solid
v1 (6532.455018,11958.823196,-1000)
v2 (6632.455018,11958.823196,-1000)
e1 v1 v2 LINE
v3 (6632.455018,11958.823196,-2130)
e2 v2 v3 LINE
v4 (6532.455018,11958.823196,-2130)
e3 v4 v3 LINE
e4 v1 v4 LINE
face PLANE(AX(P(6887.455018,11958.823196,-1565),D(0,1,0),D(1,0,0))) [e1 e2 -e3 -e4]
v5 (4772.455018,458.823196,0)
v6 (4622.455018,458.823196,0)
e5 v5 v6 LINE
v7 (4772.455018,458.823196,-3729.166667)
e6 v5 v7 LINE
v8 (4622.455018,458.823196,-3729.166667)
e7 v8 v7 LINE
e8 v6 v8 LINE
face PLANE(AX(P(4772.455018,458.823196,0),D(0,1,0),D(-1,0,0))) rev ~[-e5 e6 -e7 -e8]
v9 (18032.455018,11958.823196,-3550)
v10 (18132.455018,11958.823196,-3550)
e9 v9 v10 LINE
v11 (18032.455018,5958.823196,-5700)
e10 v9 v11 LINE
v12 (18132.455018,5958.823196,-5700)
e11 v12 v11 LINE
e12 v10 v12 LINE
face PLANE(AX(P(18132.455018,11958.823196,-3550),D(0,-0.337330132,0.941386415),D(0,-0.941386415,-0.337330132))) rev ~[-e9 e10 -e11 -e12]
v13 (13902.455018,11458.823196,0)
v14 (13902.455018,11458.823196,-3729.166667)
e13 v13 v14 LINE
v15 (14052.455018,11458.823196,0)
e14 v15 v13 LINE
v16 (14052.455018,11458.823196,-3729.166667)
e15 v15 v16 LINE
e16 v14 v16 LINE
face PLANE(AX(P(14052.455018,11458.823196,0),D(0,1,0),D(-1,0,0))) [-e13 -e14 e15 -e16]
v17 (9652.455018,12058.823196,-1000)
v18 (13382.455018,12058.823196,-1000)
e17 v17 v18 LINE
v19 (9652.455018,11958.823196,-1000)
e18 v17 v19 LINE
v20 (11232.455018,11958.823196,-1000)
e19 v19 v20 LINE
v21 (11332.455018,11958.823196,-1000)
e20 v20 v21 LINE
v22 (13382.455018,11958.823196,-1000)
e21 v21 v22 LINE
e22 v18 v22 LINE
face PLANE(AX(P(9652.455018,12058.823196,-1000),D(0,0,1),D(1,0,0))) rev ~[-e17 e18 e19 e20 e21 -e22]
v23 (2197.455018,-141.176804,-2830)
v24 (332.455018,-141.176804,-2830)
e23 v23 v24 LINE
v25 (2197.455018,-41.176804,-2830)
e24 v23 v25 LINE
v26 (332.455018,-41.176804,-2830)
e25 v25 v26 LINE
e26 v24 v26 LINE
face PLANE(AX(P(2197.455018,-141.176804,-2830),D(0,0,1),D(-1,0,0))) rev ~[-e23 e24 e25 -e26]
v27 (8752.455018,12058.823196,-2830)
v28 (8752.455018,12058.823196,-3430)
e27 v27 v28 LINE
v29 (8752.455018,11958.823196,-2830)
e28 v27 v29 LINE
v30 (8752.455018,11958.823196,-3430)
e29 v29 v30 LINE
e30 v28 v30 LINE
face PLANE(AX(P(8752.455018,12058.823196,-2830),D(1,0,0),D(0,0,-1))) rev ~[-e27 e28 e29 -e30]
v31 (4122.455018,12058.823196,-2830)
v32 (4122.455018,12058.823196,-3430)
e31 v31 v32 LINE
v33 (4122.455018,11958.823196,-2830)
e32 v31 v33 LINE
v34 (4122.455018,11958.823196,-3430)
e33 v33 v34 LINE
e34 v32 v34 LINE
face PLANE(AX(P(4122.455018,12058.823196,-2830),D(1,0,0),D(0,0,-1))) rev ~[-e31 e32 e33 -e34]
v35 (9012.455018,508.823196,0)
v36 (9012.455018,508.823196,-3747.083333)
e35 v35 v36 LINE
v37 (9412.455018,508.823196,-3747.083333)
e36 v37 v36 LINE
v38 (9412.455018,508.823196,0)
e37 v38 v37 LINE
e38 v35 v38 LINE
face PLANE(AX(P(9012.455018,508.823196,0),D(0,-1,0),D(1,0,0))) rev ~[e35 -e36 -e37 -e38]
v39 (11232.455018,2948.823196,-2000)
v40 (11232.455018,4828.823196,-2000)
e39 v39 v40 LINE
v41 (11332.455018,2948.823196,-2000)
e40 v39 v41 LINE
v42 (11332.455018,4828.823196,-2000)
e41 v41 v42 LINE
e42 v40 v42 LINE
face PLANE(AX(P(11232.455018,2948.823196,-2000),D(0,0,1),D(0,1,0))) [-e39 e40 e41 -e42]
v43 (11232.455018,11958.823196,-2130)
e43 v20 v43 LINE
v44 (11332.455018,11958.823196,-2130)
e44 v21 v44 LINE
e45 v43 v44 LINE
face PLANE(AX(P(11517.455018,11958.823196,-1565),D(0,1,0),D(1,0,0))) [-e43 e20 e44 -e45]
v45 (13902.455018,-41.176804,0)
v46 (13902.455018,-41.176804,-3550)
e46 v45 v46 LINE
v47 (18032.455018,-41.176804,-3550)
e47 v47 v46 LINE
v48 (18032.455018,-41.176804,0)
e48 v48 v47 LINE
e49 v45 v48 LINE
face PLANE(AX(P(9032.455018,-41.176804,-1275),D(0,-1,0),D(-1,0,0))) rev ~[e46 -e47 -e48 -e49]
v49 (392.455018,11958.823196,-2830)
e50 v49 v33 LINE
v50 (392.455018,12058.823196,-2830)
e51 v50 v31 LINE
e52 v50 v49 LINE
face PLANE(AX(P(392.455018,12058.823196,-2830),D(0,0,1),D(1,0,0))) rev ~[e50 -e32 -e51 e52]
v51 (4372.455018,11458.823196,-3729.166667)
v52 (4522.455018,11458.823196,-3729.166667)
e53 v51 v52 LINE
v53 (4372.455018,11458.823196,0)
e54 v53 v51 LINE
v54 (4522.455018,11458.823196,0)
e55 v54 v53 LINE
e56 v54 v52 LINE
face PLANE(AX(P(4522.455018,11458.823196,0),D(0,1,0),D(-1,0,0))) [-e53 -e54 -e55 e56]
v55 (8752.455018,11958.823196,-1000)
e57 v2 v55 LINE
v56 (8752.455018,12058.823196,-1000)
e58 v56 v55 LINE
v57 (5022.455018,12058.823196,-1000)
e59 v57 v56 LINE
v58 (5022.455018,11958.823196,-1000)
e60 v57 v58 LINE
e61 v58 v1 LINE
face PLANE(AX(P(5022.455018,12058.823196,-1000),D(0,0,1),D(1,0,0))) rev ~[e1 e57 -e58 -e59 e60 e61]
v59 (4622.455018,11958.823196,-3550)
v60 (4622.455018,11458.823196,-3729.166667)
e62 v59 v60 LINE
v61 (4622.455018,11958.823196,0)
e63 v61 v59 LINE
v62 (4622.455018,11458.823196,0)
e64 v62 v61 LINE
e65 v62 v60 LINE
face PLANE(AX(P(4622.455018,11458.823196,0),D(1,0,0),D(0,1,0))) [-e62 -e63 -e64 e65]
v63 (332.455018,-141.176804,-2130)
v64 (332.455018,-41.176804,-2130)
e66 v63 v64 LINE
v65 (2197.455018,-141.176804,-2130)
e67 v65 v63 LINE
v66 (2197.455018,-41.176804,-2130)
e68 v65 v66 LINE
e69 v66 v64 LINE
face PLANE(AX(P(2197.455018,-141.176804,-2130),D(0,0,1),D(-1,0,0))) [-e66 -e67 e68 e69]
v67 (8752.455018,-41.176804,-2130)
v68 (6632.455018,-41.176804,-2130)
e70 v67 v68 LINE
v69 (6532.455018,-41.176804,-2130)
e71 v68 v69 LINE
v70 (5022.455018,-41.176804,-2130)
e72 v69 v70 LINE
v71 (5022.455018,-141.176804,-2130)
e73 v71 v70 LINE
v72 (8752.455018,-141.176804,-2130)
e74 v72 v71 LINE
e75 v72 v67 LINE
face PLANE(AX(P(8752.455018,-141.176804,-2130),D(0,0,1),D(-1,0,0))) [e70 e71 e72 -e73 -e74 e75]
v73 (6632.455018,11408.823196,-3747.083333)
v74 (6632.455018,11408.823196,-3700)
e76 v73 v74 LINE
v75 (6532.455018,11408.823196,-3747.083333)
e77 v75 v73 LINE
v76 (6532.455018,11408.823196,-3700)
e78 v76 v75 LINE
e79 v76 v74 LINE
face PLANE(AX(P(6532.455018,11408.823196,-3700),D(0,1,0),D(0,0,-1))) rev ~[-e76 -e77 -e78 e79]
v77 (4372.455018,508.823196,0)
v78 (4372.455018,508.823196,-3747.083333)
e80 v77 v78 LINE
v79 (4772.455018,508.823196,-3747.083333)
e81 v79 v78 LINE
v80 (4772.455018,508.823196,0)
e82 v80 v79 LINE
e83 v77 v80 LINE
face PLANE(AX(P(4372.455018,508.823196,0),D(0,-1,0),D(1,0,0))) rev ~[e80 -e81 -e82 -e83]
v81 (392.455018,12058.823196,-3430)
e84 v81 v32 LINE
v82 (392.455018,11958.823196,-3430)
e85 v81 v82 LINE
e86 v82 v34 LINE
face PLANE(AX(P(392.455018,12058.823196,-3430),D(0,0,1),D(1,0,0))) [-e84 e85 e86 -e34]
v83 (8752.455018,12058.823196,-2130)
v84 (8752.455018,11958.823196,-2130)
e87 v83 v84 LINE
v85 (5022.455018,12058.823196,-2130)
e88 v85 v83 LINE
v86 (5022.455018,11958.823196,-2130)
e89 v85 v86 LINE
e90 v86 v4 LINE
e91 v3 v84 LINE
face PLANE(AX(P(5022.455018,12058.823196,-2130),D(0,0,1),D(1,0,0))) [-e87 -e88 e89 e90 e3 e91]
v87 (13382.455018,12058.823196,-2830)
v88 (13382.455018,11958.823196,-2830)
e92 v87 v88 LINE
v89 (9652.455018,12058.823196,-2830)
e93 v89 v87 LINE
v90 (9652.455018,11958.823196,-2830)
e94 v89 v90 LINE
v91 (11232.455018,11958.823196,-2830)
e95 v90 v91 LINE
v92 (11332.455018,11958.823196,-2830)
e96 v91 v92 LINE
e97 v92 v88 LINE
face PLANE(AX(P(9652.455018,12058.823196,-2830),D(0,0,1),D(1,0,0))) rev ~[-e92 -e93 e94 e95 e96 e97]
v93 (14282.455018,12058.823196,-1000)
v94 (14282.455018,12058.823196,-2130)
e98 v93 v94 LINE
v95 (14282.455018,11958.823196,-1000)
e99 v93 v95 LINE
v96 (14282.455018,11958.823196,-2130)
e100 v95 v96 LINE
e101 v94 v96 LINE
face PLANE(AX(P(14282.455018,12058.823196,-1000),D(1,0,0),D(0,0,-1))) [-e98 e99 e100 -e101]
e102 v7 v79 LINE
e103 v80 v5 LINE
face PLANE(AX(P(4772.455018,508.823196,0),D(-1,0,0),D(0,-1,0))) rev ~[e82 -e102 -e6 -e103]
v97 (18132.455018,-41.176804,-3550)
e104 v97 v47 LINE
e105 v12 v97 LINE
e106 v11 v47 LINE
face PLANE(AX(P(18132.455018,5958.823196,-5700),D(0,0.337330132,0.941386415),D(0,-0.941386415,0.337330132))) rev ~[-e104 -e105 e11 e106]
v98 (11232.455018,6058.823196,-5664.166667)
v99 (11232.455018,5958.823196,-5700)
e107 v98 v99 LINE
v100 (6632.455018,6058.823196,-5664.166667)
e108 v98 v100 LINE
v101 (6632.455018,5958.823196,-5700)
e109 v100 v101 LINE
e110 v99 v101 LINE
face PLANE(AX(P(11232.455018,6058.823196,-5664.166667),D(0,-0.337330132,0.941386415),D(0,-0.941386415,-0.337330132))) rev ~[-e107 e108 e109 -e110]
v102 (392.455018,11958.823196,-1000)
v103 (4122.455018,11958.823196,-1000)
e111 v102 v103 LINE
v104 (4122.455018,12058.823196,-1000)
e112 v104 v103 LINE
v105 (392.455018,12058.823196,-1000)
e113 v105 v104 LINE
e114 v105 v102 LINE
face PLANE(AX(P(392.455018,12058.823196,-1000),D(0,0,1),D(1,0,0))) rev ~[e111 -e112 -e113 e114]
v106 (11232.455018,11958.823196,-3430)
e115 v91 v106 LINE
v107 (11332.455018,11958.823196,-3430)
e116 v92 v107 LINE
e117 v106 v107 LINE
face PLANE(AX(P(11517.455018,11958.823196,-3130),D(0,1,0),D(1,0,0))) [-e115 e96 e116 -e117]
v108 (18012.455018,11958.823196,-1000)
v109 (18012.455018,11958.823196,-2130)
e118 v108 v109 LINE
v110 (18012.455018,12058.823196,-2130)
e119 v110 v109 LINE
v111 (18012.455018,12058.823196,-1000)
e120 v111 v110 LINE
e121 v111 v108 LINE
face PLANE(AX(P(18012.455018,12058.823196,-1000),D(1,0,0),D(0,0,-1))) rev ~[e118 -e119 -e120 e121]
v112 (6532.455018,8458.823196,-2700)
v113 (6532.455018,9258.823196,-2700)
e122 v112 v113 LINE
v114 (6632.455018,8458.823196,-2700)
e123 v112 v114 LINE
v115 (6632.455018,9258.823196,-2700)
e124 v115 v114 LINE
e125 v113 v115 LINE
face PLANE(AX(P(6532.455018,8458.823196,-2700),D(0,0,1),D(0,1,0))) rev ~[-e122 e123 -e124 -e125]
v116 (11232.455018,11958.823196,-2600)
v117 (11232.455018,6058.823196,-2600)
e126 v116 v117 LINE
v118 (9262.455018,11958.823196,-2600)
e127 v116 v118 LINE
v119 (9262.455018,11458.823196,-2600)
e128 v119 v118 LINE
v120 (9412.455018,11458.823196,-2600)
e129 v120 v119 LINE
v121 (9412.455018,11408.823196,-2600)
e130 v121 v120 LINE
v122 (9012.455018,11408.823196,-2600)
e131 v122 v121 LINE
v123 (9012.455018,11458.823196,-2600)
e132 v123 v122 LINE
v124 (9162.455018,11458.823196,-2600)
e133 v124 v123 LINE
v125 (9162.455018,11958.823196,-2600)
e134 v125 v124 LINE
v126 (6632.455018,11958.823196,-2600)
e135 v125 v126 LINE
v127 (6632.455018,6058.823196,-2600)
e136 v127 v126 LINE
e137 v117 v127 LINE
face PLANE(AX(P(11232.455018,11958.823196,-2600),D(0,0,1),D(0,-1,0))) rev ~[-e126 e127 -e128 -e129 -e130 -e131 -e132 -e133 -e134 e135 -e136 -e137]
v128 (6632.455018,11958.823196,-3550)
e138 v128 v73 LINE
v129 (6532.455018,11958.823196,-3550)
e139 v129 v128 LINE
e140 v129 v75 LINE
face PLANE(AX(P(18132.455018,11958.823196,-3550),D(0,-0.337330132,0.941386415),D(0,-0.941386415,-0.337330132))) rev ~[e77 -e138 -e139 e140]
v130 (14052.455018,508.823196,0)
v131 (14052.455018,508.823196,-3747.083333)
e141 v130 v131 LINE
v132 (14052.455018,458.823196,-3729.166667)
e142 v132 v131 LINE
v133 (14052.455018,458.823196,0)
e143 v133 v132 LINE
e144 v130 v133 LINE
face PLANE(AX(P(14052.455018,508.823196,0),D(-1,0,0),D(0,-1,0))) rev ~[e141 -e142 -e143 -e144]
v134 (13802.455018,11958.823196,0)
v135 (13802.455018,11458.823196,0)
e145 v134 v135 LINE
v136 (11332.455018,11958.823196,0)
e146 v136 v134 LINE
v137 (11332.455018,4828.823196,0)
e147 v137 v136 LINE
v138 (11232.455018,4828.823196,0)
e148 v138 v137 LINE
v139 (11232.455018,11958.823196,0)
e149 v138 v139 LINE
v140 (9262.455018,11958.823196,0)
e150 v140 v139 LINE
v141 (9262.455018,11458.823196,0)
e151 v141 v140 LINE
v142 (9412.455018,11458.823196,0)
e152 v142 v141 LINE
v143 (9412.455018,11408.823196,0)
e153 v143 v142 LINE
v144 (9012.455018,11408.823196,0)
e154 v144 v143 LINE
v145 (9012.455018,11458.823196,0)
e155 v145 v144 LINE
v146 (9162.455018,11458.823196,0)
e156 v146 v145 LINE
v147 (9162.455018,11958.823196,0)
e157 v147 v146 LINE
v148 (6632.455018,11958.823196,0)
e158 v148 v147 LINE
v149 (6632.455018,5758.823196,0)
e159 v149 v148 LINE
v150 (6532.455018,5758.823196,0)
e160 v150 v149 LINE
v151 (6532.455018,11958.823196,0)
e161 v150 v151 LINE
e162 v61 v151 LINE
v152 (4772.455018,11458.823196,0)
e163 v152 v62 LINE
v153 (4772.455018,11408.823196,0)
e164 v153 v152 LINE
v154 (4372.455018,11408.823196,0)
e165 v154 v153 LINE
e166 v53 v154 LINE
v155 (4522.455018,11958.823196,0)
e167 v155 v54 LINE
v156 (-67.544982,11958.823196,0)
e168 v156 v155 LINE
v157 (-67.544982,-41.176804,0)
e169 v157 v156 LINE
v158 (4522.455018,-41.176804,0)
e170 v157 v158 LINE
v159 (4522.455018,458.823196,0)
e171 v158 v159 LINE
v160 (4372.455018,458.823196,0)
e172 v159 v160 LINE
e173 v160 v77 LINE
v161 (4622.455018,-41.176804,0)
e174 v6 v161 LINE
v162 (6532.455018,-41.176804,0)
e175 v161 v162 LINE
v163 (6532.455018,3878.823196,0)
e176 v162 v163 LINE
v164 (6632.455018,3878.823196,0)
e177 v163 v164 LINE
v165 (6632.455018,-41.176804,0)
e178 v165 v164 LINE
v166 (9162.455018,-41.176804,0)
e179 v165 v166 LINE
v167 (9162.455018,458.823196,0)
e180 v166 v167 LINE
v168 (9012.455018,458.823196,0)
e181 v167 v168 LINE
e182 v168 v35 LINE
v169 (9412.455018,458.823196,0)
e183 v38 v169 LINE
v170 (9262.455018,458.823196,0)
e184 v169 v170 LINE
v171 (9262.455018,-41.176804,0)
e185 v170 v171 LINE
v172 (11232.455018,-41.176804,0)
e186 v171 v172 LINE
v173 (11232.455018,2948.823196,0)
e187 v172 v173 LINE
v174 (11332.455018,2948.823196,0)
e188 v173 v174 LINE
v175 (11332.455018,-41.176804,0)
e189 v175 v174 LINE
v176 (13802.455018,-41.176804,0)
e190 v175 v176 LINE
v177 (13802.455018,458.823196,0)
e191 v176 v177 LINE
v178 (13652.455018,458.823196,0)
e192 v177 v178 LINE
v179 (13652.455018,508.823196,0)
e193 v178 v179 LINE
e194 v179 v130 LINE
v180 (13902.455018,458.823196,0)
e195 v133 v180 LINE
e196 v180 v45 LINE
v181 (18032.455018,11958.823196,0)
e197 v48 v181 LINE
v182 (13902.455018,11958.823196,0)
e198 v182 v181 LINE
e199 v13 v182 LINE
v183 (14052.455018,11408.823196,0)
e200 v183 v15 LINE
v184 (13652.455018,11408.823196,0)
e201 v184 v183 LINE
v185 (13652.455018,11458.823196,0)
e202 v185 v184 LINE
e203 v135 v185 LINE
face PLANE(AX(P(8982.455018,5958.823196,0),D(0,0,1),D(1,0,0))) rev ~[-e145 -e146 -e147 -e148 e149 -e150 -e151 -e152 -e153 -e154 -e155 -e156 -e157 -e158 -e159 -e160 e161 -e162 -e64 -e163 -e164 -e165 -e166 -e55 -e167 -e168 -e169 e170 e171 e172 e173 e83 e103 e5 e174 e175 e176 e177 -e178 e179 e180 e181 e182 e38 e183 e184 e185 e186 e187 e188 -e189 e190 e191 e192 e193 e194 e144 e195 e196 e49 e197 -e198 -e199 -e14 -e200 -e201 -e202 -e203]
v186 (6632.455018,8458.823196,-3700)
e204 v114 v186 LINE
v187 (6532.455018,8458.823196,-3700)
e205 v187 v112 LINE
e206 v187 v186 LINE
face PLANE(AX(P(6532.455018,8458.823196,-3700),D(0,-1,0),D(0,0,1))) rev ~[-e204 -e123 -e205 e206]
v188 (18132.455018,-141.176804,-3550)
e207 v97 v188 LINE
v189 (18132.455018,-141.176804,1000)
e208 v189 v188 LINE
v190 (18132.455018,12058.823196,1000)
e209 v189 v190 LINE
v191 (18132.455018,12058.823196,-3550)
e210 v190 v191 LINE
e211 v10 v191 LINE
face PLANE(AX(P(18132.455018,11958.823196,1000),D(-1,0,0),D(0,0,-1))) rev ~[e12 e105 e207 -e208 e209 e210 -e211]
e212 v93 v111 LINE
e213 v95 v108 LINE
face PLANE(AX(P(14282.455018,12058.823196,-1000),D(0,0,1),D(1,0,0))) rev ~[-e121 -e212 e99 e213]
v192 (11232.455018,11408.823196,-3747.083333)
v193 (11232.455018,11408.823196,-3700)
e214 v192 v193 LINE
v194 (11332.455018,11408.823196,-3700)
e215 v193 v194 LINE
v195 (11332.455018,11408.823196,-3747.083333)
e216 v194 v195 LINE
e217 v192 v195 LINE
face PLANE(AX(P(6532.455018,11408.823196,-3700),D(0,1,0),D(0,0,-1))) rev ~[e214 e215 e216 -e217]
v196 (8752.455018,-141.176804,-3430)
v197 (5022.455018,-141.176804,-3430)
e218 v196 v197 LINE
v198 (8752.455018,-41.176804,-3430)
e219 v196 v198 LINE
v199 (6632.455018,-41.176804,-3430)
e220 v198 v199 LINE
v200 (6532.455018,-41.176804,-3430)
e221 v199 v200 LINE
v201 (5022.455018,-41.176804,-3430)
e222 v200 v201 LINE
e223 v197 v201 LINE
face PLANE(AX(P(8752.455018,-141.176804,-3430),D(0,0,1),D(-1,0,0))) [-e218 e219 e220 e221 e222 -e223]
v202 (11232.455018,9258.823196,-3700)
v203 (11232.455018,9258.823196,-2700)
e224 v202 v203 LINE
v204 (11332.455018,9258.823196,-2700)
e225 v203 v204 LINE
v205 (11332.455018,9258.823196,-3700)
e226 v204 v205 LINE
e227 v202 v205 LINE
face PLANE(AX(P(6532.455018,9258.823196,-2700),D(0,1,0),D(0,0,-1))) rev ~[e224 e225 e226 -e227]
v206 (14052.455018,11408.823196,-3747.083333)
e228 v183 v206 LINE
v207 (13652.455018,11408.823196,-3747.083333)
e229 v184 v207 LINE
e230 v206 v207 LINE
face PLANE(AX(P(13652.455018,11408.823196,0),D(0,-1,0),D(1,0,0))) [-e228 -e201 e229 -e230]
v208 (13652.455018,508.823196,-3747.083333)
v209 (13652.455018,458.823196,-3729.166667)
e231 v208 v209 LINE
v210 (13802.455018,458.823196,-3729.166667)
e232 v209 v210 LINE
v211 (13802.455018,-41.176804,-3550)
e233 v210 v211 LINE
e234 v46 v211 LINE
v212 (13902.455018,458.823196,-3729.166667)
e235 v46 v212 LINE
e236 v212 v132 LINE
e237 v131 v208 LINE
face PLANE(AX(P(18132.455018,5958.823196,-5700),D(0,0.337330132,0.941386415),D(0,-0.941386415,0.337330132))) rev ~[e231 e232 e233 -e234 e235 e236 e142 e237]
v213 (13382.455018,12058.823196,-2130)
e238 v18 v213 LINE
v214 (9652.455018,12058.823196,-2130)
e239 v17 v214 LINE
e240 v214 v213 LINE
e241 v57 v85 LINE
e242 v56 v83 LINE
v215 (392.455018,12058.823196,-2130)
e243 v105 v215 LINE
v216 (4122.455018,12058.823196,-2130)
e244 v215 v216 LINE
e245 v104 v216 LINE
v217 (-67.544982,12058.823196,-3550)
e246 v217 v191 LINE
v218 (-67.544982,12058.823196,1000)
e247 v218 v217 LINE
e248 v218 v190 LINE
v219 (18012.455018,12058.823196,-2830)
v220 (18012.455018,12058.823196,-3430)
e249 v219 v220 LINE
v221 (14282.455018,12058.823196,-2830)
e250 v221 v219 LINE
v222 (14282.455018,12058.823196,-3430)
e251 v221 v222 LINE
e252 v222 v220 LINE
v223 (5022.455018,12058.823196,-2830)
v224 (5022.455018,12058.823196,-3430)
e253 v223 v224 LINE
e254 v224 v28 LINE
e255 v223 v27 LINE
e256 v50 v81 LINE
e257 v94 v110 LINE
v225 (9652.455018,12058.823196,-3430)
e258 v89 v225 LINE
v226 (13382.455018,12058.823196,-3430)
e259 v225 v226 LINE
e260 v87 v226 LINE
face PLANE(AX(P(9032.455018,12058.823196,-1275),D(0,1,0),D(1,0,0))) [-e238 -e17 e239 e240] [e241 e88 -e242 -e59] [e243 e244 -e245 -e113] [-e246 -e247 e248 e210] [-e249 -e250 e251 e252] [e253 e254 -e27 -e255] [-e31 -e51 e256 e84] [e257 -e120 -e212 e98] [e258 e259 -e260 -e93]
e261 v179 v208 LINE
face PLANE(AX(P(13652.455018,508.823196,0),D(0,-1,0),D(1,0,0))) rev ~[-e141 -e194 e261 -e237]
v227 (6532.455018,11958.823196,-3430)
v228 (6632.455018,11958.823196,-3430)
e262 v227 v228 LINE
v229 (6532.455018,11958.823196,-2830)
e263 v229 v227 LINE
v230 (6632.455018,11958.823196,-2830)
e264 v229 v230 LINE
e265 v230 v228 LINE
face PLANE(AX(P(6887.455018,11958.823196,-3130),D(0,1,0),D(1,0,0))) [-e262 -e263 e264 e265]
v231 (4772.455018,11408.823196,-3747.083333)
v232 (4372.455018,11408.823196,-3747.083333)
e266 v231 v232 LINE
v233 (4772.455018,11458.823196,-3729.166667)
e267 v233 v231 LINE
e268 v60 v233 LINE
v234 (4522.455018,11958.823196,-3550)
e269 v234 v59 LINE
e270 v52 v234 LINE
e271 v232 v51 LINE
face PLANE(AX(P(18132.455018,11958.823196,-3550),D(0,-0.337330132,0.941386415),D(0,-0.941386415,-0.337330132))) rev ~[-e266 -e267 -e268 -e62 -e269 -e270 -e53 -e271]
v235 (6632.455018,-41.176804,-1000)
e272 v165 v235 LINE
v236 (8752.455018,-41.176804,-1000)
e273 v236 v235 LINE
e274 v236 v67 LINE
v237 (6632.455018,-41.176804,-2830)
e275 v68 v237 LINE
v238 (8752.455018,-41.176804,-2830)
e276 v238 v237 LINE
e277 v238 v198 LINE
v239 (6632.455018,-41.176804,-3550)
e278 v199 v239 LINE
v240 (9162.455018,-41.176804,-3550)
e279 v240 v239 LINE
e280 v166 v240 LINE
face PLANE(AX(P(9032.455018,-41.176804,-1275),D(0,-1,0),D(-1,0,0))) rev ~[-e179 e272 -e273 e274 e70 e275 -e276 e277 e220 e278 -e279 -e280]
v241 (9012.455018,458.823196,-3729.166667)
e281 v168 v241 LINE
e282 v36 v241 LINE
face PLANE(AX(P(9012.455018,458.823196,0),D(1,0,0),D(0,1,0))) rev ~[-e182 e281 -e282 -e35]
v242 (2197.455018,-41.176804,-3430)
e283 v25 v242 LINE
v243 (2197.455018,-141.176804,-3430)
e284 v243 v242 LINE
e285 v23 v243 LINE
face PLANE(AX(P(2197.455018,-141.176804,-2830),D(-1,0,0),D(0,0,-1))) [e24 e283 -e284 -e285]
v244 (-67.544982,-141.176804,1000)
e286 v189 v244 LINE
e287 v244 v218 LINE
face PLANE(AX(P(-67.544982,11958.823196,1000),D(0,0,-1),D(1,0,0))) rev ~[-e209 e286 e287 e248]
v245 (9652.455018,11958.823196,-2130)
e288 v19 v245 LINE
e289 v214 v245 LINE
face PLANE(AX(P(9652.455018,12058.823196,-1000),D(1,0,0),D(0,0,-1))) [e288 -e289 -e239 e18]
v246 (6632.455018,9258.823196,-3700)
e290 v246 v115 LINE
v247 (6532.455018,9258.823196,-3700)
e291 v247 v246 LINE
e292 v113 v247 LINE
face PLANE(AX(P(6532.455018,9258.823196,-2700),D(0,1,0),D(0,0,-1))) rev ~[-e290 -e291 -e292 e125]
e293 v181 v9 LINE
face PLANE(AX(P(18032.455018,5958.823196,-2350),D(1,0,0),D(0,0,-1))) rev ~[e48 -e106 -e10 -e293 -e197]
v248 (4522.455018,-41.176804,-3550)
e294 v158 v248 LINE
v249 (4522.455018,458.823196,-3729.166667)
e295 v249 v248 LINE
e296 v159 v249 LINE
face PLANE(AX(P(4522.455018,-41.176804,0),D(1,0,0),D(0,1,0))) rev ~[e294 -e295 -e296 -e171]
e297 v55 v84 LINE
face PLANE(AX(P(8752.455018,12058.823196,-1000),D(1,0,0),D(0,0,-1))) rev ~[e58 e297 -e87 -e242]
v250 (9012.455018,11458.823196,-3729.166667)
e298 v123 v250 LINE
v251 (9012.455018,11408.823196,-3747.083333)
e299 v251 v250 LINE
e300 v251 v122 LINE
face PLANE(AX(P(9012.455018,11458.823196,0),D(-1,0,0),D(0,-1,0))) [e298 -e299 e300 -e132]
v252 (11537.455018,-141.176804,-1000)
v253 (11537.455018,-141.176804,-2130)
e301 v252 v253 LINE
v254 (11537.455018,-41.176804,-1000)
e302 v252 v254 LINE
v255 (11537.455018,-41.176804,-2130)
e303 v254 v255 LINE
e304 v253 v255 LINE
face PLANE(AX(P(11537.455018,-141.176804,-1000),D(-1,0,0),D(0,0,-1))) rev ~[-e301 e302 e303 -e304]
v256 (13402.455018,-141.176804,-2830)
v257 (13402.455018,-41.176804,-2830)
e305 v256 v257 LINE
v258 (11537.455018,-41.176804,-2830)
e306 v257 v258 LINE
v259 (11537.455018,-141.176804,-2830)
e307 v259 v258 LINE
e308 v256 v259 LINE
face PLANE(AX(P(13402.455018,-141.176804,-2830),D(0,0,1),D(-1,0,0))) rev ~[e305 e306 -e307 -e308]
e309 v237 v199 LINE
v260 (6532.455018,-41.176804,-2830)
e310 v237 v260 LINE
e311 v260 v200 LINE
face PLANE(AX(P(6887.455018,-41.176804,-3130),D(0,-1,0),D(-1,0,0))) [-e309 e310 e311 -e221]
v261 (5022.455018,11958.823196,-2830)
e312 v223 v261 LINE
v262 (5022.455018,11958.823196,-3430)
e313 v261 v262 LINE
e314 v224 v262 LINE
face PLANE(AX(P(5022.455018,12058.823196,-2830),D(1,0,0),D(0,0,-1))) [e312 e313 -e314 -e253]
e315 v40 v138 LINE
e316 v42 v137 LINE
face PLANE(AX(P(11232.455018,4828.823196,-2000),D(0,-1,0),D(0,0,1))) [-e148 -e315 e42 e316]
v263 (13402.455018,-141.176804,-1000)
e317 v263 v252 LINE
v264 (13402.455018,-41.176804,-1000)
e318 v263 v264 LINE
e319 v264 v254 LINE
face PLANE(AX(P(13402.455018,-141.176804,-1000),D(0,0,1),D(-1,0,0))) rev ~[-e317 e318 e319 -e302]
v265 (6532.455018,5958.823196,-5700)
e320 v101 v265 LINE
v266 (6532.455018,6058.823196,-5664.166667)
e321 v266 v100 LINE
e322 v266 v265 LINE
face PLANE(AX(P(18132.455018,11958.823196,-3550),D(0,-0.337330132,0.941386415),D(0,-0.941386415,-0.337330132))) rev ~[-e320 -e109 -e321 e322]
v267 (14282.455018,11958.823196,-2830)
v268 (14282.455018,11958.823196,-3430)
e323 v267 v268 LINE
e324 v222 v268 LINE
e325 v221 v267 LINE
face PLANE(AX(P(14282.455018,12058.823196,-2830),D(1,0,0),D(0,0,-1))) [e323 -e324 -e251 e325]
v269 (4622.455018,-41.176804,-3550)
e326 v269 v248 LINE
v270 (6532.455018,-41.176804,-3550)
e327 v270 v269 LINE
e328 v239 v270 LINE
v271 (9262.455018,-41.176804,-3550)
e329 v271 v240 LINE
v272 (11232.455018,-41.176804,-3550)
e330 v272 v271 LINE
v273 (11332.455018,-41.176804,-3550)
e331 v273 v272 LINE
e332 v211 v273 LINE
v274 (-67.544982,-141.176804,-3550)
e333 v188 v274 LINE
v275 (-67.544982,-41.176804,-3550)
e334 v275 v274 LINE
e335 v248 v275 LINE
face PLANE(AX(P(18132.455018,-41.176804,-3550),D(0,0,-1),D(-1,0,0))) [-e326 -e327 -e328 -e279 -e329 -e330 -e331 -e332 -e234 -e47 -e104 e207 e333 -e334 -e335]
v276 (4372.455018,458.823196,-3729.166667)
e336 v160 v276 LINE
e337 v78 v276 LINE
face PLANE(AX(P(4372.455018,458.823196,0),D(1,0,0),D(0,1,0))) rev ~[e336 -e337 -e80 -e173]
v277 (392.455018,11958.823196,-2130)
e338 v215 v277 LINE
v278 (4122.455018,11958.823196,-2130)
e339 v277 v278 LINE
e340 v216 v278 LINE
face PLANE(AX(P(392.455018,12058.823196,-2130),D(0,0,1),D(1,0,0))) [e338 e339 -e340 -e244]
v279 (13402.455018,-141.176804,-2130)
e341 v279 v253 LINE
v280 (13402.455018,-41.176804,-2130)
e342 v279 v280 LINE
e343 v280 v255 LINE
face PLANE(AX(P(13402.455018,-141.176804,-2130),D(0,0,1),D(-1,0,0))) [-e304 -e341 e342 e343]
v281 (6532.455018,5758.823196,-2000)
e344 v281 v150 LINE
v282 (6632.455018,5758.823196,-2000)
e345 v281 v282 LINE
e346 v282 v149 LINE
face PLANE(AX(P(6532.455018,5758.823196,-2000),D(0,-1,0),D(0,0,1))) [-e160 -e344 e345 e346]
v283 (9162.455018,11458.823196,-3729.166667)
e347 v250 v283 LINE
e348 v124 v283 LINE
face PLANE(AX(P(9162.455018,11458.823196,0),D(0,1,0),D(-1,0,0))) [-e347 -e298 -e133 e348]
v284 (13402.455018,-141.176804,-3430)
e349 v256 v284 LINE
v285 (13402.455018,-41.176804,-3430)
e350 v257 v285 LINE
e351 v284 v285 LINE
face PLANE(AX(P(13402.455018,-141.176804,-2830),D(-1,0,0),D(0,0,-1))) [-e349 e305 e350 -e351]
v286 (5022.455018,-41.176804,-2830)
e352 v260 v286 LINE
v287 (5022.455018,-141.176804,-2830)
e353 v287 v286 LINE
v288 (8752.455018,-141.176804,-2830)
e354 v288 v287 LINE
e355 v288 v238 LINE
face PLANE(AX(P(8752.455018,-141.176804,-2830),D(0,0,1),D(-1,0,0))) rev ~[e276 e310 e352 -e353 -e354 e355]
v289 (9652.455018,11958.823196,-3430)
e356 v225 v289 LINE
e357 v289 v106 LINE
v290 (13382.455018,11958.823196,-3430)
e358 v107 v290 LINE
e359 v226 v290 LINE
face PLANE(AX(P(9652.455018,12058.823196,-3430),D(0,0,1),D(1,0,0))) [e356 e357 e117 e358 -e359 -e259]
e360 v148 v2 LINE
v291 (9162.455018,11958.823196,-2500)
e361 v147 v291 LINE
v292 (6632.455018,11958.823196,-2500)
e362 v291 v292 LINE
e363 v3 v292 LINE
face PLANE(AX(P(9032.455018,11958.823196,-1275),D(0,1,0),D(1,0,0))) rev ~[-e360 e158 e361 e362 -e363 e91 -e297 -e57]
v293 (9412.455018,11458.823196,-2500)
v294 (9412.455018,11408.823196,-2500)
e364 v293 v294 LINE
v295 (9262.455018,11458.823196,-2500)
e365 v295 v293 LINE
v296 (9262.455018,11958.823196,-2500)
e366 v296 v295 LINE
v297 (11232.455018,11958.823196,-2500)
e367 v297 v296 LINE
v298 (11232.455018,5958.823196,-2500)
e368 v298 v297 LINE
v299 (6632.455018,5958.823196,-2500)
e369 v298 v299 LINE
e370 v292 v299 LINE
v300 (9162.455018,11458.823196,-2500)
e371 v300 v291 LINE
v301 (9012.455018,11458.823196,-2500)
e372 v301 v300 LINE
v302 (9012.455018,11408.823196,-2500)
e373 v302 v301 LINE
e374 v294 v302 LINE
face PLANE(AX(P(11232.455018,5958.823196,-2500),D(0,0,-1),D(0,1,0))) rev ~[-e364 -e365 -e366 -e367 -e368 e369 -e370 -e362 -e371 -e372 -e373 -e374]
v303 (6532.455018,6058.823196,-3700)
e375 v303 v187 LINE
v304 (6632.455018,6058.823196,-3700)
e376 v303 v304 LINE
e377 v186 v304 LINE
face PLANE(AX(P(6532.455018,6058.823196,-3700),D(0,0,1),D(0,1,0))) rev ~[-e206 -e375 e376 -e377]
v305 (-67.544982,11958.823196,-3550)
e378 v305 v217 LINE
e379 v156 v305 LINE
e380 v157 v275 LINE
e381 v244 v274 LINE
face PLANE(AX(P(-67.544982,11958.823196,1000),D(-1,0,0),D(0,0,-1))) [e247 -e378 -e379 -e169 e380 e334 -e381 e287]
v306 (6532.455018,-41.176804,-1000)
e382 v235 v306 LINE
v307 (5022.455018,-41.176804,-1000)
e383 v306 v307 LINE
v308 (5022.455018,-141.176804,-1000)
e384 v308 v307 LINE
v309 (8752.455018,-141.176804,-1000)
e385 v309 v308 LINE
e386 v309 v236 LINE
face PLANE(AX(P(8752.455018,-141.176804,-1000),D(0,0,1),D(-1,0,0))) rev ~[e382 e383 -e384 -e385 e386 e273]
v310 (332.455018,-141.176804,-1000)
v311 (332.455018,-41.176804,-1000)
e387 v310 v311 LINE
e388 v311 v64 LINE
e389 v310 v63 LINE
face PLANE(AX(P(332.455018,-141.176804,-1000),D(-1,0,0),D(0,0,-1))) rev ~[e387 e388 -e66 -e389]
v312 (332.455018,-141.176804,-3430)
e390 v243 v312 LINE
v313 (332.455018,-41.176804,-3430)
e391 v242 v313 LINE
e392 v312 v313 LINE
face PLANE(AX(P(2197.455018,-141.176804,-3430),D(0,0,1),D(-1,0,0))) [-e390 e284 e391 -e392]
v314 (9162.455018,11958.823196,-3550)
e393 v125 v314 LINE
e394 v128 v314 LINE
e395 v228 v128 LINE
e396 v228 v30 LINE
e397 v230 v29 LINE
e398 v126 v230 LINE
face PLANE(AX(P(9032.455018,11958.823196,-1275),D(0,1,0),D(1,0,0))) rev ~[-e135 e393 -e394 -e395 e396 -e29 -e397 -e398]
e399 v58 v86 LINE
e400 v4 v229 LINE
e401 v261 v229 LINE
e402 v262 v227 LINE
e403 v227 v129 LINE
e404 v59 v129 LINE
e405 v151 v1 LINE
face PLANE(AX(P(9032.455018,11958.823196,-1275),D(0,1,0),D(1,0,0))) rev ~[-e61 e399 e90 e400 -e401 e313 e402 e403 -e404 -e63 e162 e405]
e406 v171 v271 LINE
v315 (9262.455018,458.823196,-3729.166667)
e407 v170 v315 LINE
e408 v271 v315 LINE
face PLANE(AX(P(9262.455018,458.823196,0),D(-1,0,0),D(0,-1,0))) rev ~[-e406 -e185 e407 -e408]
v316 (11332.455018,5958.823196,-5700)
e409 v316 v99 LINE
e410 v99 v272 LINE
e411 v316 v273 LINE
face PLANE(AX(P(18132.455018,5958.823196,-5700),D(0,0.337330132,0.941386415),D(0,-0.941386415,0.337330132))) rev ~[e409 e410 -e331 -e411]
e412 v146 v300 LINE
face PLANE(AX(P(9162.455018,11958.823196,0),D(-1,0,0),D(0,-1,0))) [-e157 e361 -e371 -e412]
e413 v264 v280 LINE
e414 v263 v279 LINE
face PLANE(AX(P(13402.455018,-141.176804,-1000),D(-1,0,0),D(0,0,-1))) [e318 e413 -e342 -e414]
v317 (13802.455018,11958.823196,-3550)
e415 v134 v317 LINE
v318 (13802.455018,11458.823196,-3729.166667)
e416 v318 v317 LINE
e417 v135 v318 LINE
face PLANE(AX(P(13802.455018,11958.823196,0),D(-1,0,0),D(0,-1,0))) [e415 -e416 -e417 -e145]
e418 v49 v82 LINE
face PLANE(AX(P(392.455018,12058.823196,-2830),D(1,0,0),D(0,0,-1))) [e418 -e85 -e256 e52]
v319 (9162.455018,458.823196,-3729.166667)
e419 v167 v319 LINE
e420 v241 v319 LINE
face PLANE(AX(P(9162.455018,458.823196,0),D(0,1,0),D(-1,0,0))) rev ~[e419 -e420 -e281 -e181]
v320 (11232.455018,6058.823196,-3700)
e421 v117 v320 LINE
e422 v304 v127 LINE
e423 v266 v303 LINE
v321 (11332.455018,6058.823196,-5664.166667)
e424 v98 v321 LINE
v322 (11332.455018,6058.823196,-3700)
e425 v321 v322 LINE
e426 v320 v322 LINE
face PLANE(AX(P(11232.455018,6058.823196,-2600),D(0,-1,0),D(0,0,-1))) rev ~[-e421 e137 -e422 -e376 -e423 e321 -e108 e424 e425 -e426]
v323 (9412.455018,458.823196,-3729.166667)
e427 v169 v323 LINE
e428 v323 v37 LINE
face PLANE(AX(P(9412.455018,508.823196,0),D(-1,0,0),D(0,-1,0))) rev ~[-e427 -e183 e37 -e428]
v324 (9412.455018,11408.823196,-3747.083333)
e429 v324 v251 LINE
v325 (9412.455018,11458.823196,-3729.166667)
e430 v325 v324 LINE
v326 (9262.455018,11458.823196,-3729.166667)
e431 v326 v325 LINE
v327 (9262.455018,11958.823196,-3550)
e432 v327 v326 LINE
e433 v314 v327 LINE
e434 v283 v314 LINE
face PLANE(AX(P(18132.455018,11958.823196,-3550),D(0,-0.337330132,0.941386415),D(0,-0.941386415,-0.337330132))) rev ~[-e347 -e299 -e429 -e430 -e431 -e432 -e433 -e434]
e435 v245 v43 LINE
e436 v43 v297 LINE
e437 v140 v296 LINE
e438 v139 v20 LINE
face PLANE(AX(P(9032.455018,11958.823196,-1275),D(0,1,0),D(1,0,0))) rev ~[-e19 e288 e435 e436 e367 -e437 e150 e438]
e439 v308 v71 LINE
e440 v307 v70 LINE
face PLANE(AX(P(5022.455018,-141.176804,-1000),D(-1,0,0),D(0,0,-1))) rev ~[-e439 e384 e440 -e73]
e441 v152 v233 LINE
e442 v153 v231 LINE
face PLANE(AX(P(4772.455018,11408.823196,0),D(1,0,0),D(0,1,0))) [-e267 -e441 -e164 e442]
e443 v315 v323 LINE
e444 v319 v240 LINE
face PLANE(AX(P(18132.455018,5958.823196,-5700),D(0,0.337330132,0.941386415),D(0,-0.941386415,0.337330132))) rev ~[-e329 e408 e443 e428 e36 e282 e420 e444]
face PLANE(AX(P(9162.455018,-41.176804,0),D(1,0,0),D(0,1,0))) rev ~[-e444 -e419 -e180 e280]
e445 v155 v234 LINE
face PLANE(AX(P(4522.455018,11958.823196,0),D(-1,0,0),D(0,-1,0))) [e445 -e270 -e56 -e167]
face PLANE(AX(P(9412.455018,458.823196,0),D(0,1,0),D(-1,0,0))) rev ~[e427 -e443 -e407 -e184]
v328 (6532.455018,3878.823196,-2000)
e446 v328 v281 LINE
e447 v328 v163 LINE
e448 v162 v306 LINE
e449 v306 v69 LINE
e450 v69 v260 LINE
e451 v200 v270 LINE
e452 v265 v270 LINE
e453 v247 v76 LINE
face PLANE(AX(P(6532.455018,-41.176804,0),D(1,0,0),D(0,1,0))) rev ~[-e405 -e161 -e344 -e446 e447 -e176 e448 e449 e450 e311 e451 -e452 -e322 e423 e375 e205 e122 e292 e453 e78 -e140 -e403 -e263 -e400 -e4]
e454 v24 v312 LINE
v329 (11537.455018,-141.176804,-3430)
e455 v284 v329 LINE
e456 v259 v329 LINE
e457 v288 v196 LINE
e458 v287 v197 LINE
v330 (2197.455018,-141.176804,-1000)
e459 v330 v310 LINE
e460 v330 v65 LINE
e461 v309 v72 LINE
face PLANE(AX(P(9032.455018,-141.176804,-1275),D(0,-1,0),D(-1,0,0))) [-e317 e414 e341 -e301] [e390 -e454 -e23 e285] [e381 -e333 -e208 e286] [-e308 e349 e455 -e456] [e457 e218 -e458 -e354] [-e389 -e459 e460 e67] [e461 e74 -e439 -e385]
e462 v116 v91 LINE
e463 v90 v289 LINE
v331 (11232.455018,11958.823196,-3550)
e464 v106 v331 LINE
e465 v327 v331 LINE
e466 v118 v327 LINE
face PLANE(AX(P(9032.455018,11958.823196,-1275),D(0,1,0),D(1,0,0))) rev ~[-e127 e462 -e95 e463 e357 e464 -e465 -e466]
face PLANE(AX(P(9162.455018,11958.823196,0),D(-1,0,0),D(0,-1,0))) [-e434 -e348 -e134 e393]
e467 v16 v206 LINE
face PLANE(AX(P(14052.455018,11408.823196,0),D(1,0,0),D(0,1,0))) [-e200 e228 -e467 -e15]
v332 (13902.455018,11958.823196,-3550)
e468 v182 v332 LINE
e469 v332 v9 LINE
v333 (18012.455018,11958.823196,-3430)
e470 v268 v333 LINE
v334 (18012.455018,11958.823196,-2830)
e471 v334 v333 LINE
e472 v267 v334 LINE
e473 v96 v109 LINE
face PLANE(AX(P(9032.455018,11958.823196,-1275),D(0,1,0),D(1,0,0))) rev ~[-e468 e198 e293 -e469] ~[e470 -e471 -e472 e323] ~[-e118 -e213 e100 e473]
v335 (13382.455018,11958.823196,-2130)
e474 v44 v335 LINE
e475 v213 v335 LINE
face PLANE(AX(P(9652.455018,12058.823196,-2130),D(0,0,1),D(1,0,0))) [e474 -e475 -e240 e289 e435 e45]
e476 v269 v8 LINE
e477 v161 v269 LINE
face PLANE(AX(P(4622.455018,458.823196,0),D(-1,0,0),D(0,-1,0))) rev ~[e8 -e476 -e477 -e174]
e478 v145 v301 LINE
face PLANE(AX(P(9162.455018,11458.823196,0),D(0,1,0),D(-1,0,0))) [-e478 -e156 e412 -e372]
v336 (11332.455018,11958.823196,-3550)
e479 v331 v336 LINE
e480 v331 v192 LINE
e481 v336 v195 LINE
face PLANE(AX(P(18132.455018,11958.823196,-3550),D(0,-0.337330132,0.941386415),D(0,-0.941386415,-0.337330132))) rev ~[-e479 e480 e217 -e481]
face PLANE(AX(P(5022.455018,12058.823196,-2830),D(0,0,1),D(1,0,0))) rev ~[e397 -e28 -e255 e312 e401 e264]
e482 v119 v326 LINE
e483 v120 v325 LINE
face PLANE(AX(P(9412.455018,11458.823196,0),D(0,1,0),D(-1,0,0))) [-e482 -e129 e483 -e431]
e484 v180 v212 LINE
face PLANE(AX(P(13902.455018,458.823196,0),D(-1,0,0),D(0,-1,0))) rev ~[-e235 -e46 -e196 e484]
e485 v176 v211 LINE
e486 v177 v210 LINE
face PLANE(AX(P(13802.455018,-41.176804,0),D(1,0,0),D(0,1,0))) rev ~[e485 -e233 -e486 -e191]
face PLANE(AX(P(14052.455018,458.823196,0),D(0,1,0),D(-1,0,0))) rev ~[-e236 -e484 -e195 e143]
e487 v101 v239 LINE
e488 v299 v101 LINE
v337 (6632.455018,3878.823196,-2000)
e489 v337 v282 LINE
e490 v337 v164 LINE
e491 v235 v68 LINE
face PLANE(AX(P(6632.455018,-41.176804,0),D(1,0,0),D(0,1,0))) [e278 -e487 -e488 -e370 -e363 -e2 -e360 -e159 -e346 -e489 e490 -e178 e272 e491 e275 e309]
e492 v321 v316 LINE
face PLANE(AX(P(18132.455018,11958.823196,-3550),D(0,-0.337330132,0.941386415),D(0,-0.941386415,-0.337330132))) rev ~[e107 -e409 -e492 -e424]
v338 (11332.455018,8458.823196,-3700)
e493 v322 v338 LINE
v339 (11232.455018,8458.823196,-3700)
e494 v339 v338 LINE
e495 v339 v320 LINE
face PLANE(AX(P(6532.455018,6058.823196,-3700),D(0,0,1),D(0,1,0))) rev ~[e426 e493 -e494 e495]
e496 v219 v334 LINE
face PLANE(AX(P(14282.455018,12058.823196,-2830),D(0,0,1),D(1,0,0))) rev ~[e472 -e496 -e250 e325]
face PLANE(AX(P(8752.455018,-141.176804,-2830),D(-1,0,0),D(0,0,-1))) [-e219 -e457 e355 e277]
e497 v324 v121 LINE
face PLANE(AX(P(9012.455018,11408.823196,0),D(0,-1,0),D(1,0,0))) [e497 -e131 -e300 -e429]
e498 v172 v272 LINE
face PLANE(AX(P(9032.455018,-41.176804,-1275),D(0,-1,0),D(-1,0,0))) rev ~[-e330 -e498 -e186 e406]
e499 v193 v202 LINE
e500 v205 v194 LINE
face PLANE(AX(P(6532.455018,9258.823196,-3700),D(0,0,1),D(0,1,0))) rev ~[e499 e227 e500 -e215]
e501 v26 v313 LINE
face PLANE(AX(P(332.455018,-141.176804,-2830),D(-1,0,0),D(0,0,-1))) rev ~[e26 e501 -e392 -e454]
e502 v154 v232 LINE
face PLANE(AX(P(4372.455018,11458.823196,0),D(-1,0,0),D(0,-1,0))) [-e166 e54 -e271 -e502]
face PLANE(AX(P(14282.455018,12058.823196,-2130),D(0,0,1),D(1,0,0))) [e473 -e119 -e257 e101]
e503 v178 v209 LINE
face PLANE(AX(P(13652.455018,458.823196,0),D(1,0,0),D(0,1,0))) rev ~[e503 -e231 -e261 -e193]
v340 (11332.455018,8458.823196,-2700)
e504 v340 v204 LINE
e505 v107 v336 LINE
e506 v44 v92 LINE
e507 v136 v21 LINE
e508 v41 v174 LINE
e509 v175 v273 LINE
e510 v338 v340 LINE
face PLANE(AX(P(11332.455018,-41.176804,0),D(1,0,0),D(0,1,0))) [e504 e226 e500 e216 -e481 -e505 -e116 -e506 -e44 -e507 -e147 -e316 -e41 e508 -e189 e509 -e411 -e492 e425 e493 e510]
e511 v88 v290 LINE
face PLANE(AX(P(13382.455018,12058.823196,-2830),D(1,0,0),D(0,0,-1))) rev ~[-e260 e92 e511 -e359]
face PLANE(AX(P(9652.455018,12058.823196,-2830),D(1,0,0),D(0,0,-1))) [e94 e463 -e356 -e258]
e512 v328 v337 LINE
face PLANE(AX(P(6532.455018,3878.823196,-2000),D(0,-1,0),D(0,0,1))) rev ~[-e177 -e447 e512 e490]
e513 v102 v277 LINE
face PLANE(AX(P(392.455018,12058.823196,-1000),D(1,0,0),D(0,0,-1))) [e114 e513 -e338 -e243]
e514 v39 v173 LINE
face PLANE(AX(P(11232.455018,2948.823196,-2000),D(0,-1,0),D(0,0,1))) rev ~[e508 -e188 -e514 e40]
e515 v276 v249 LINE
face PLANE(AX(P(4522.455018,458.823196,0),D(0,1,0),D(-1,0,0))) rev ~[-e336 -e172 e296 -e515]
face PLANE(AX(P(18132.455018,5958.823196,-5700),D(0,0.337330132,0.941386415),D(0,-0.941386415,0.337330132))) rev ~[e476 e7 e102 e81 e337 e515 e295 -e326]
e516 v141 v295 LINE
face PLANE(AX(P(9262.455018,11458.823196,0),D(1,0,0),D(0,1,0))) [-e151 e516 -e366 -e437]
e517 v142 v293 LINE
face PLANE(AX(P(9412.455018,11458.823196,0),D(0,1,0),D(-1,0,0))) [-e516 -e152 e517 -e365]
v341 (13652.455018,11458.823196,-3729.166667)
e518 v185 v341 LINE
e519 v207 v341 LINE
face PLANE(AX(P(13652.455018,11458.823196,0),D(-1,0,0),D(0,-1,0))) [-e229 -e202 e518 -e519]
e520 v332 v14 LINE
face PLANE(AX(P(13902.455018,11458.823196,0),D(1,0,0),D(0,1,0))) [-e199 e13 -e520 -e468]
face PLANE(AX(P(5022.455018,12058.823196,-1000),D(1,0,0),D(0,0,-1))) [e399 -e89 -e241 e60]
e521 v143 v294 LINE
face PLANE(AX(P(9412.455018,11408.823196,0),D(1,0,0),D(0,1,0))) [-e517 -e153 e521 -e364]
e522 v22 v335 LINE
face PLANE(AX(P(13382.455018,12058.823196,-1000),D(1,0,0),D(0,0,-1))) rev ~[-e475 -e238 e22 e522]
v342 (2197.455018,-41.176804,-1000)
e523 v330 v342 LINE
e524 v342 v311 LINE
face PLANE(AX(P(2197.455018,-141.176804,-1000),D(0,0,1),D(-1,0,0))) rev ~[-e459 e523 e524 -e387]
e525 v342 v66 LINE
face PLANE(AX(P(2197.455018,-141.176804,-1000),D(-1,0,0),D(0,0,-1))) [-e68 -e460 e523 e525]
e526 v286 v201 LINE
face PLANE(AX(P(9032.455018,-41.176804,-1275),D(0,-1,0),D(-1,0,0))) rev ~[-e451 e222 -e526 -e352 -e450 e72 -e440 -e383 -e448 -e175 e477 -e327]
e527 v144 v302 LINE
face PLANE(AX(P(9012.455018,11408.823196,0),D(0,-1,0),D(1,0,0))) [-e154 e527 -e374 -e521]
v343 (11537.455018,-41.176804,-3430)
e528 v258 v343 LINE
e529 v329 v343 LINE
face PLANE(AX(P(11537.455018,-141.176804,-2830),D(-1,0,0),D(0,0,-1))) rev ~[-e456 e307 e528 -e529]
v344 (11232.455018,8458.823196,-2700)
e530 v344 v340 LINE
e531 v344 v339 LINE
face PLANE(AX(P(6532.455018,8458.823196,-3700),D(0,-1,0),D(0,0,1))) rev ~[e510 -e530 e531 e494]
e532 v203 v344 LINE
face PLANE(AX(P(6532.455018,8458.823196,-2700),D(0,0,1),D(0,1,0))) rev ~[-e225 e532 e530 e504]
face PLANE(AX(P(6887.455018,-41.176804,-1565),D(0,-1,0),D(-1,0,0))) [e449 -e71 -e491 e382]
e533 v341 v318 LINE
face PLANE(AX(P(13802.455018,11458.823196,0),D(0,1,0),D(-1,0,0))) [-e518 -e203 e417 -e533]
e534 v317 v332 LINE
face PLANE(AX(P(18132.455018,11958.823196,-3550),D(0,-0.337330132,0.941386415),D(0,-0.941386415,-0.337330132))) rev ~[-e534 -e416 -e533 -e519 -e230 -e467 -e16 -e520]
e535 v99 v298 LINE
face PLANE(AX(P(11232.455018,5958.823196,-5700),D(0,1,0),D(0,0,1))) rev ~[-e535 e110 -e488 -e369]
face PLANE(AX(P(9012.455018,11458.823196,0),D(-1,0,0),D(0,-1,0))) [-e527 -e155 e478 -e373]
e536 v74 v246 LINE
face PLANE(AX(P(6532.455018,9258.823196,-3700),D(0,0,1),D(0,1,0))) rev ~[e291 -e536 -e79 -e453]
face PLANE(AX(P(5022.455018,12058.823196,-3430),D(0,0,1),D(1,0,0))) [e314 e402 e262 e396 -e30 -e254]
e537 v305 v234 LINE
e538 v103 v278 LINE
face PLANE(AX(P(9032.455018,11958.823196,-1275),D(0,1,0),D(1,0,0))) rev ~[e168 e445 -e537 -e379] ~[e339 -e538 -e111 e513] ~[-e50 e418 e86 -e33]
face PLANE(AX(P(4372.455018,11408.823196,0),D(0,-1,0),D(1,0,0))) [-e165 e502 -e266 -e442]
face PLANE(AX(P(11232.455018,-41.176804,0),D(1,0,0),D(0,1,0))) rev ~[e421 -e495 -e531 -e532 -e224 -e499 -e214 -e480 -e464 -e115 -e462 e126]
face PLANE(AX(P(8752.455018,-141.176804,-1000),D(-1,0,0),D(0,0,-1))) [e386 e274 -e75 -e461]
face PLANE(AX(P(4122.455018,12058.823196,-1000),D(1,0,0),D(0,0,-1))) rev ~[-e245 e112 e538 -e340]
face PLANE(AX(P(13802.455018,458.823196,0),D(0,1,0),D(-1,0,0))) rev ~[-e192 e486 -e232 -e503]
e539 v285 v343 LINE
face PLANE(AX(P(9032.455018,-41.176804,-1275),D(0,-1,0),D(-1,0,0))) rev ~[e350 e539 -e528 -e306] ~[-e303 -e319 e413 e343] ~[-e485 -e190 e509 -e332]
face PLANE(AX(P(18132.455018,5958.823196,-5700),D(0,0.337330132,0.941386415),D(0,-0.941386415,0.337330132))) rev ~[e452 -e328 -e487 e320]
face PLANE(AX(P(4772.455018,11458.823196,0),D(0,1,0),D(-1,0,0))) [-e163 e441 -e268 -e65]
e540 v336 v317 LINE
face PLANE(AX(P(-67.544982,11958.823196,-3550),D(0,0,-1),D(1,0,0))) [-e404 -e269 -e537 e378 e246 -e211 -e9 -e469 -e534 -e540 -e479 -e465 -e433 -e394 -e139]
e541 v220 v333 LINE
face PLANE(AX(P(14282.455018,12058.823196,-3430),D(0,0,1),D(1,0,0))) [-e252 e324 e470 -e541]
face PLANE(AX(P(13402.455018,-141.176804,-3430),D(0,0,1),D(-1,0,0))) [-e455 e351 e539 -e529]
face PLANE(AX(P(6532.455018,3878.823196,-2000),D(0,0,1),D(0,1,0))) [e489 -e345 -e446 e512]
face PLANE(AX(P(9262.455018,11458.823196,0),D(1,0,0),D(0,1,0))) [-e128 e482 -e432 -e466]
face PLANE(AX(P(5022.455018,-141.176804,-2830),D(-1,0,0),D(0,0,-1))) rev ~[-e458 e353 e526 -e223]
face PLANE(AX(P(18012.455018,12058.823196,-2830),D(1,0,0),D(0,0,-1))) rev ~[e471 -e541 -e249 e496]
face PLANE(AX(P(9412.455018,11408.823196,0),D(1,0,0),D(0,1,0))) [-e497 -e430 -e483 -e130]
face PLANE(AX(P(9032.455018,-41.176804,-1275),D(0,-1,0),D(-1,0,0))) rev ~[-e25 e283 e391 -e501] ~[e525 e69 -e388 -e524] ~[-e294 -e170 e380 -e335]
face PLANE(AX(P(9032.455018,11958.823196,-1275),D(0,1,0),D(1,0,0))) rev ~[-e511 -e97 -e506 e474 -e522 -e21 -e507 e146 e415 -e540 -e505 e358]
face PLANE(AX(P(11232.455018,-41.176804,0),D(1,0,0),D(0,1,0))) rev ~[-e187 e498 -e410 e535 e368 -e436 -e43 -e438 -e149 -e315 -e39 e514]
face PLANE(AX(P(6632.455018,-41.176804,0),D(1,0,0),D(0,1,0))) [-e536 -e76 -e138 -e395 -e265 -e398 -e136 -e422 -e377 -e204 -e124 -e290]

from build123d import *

# Parameters (mm, degrees)
SKETCH_1_W           = 18100
SKETCH_1_H           = 12000
EXTRUDE_1_DEPTH      = 1000
SKETCH_11_W          = 6700
SKETCH_11_H          = 12000
EXTRUDE_7_DEPTH      = 100
SKETCH_12_W          = 18200
SKETCH_12_H          = 4550
EXTRUDE_8_DEPTH      = 100
SKETCH_13_W          = 18200
SKETCH_13_H          = 4550
EXTRUDE_9_DEPTH      = 100
SKETCH_14_W          = 100
SKETCH_14_H          = 12000
EXTRUDE_10_DEPTH     = 5700
EXTRUDE_11_DEPTH     = 5000
CUT_EXTRUDE_7_DEPTH  = 22565.246428131
SKETCH_17_W          = 2000
SKETCH_17_H          = 1880
CUT_EXTRUDE_8_DEPTH  = 100
SKETCH_18_W          = 2000
SKETCH_18_H          = 1880
CUT_EXTRUDE_9_DEPTH  = 100
SKETCH_19_W          = 3730
SKETCH_19_H          = 1130
SKETCH_19_H_2        = 600
CUT_EXTRUDE_10_DEPTH = 100
SKETCH_20_W          = 1865
SKETCH_20_H          = 1130
SKETCH_20_H_2        = 600
SKETCH_20_W_2        = 3730
CUT_EXTRUDE_11_DEPTH = 100
EXTRUDE_12_REACH     = 17483.282
CUT_EXTRUDE_13_REACH = 17678.686


with BuildPart() as part:
    # ｽｹｯﾁ1 → ﾎﾞｽ - 押し出し1 (new body)
    with BuildSketch(Plane.XY):
        with Locations((8982.45501815, 5958.823195876)):
            Rectangle(SKETCH_1_W, SKETCH_1_H)
    extrude(amount=EXTRUDE_1_DEPTH)

    # ｽｹｯﾁ11 → ﾎﾞｽ - 押し出し7 (add)
    with BuildSketch(Plane(origin=(18032.45501815, 0, 0), x_dir=(0, 0, -1), z_dir=(1, 0, 0))):
        with Locations((2350, 5958.823195876)):
            Rectangle(SKETCH_11_W, SKETCH_11_H)
    extrude(amount=EXTRUDE_7_DEPTH)

    # ｽｹｯﾁ12 → ﾎﾞｽ - 押し出し8 (add)
    with BuildSketch(Plane(origin=(0, -41.176804124, 0), x_dir=(-1, 0, 0), z_dir=(0, -1, 0))):
        with Locations((-9032.45501815, 1275)):
            Rectangle(SKETCH_12_W, SKETCH_12_H)
    extrude(amount=EXTRUDE_8_DEPTH)

    # ｽｹｯﾁ13 → ﾎﾞｽ - 押し出し9 (add)
    with BuildSketch(Plane(origin=(0, 11958.823195876, 0), x_dir=(1, 0, 0), z_dir=(0, 1, 0))):
        with Locations((9032.45501815, 1275)):
            Rectangle(SKETCH_13_W, SKETCH_13_H)
    extrude(amount=EXTRUDE_9_DEPTH)

    # ｽｹｯﾁ14 → ﾎﾞｽ - 押し出し10 (add)
    with BuildSketch(Plane(origin=(0, 0, 0), x_dir=(-1, 0, 0), z_dir=(0, 0, -1))):
        with Locations((-6582.45501815, 5958.823195876)):
            Rectangle(SKETCH_14_W, SKETCH_14_H)
        with Locations((-11282.45501815, 5958.823195876)):
            Rectangle(SKETCH_14_W, SKETCH_14_H)
    extrude(amount=EXTRUDE_10_DEPTH)

    # ｽｹｯﾁ16 → ﾎﾞｽ - 押し出し11 (add)
    with BuildSketch(Plane(origin=(0, 0, 0), x_dir=(-1, 0, 0), z_dir=(0, 0, -1))):
        Polygon((-4622.45501815, -41.176804124), (-4522.45501815, -41.176804124), (-4522.45501815, 458.823195876), (-4372.45501815, 458.823195876), (-4372.45501815, 508.823195876), (-4772.45501815, 508.823195876), (-4772.45501815, 458.823195876), (-4622.45501815, 458.823195876), align=None)
        Polygon((-9262.45501815, -41.176804124), (-9162.45501815, -41.176804124), (-9162.45501815, 458.823195876), (-9012.45501815, 458.823195876), (-9012.45501815, 508.823195876), (-9412.45501815, 508.823195876), (-9412.45501815, 458.823195876), (-9262.45501815, 458.823195876), align=None)
        Polygon((-13902.45501815, -41.176804124), (-13802.45501815, -41.176804124), (-13802.45501815, 458.823195876), (-13652.45501815, 458.823195876), (-13652.45501815, 508.823195876), (-14052.45501815, 508.823195876), (-14052.45501815, 458.823195876), (-13902.45501815, 458.823195876), align=None)
        Polygon((-13902.45501815, 11958.823195876), (-13802.45501815, 11958.823195876), (-13802.45501815, 11458.823195876), (-13652.45501815, 11458.823195876), (-13652.45501815, 11408.823195876), (-14052.45501815, 11408.823195876), (-14052.45501815, 11458.823195876), (-13902.45501815, 11458.823195876), align=None)
        Polygon((-9262.45501815, 11958.823195876), (-9162.45501815, 11958.823195876), (-9162.45501815, 11458.823195876), (-9012.45501815, 11458.823195876), (-9012.45501815, 11408.823195876), (-9412.45501815, 11408.823195876), (-9412.45501815, 11458.823195876), (-9262.45501815, 11458.823195876), align=None)
        Polygon((-4622.45501815, 11958.823195876), (-4522.45501815, 11958.823195876), (-4522.45501815, 11458.823195876), (-4372.45501815, 11458.823195876), (-4372.45501815, 11408.823195876), (-4772.45501815, 11408.823195876), (-4772.45501815, 11458.823195876), (-4622.45501815, 11458.823195876), align=None)
    extrude(amount=EXTRUDE_11_DEPTH)

    # ｽｹｯﾁ15 → ｶｯﾄ - 押し出し7 (cut, through all)
    with BuildSketch(Plane(origin=(18132.45501815, 0, 0), x_dir=(0, 0, -1), z_dir=(1, 0, 0))):
        Polygon((5700, -41.176804124), (5700, 5958.823195876), (3550, -41.176804124), align=None)
        Polygon((5700, 5958.823195876), (5700, 11958.823195876), (3550, 11958.823195876), align=None)
    extrude(amount=-CUT_EXTRUDE_7_DEPTH, mode=Mode.SUBTRACT)

    # ｽｹｯﾁ17 → ｶｯﾄ - 押し出し8 (cut)
    with BuildSketch(Plane.ZY.offset(-6532.45501815)):
        with Locations((-1000, 4818.823195876)):
            Rectangle(SKETCH_17_W, SKETCH_17_H)
    extrude(amount=-CUT_EXTRUDE_8_DEPTH, mode=Mode.SUBTRACT)

    # ｽｹｯﾁ18 → ｶｯﾄ - 押し出し9 (cut)
    with BuildSketch(Plane.ZY.offset(-11232.45501815)):
        with Locations((-1000, 3888.823195876)):
            Rectangle(SKETCH_18_W, SKETCH_18_H)
    extrude(amount=-CUT_EXTRUDE_9_DEPTH, mode=Mode.SUBTRACT)

    # ｽｹｯﾁ19 → ｶｯﾄ - 押し出し10 (cut)
    with BuildSketch(Plane(origin=(0, 12058.823195876, 0), x_dir=(1, 0, 0), z_dir=(0, 1, 0))):
        with Locations((2257.45501815, 1565)):
            Rectangle(SKETCH_19_W, SKETCH_19_H)
        with Locations((2257.45501815, 3130)):
            Rectangle(SKETCH_19_W, SKETCH_19_H_2)
        with Locations((6887.45501815, 1565)):
            Rectangle(SKETCH_19_W, SKETCH_19_H)
        with Locations((6887.45501815, 3130)):
            Rectangle(SKETCH_19_W, SKETCH_19_H_2)
        with Locations((11517.45501815, 1565)):
            Rectangle(SKETCH_19_W, SKETCH_19_H)
        with Locations((11517.45501815, 3130)):
            Rectangle(SKETCH_19_W, SKETCH_19_H_2)
        with Locations((16147.45501815, 1565)):
            Rectangle(SKETCH_19_W, SKETCH_19_H)
        with Locations((16147.45501815, 3130)):
            Rectangle(SKETCH_19_W, SKETCH_19_H_2)
    extrude(amount=-CUT_EXTRUDE_10_DEPTH, mode=Mode.SUBTRACT)

    # ｽｹｯﾁ20 → ｶｯﾄ - 押し出し11 (cut)
    with BuildSketch(Plane(origin=(0, -141.176804124, 0), x_dir=(-1, 0, 0), z_dir=(0, -1, 0))):
        with Locations((-1264.95501815, 1565)):
            Rectangle(SKETCH_20_W, SKETCH_20_H)
        with Locations((-1264.95501815, 3130)):
            Rectangle(SKETCH_20_W, SKETCH_20_H_2)
        with Locations((-6887.45501815, 1565)):
            Rectangle(SKETCH_20_W_2, SKETCH_20_H)
        with Locations((-6887.45501815, 3130)):
            Rectangle(SKETCH_20_W_2, SKETCH_20_H_2)
        with Locations((-12469.95501815, 1565)):
            Rectangle(SKETCH_20_W, SKETCH_20_H)
        with Locations((-12469.95501815, 3130)):
            Rectangle(SKETCH_20_W, SKETCH_20_H_2)
    extrude(amount=-CUT_EXTRUDE_11_DEPTH, mode=Mode.SUBTRACT)

    # ｽｹｯﾁ21 → ﾎﾞｽ - 押し出し12 (add, up to next)
    with BuildSketch(Plane.ZY.offset(-11232.45501815), mode=Mode.PRIVATE) as extrude_12_sk1:
        Polygon((-5700, 5958.823195876), (-2500, 5958.823195876), (-2500, 11958.823195876), (-2600, 11958.823195876), (-2600, 6058.823195876), (-5664.166666667, 6058.823195876), align=None)
    extrude_12_tool1 = extrude(extrude_12_sk1.sketch, amount=EXTRUDE_12_REACH, mode=Mode.PRIVATE) - part.part
    add(extrude_12_tool1.solids().sort_by_distance((11232.455018, 6026.823196, -4100))[0])

    # ｶｯﾄ - 押し出し13: up to this face of the body (flat: up to its plane)
    cut_extrude_13_end = Plane(part.part.faces().sort_by_distance((11332.45501815, 6109.252264295, -2452.551217627))[0])
    # ｽｹｯﾁ22 → ｶｯﾄ - 押し出し13 (cut, up to the picked face)
    with BuildSketch(Plane.ZY.offset(-6532.45501815), mode=Mode.PRIVATE) as cut_extrude_13_sk1:
        Polygon((-5664.166666667, 6058.823195876), (-3700, 6058.823195876), (-3700, 8458.823195876), (-2700, 8458.823195876), (-2700, 9258.823195876), (-3700, 9258.823195876), (-3700, 11408.823195876), (-3747.083333333, 11408.823195876), align=None)
    cut_extrude_13_tool1 = split(extrude(cut_extrude_13_sk1.sketch, amount=-CUT_EXTRUDE_13_REACH, mode=Mode.PRIVATE), bisect_by=cut_extrude_13_end, keep=Keep.BOTH, mode=Mode.PRIVATE)
    add(cut_extrude_13_tool1.solids().sort_by(Axis((6532.455018, 8010.105511, -4205.565732), (1, 0, 0)))[0], mode=Mode.SUBTRACT)


solid = part.part
